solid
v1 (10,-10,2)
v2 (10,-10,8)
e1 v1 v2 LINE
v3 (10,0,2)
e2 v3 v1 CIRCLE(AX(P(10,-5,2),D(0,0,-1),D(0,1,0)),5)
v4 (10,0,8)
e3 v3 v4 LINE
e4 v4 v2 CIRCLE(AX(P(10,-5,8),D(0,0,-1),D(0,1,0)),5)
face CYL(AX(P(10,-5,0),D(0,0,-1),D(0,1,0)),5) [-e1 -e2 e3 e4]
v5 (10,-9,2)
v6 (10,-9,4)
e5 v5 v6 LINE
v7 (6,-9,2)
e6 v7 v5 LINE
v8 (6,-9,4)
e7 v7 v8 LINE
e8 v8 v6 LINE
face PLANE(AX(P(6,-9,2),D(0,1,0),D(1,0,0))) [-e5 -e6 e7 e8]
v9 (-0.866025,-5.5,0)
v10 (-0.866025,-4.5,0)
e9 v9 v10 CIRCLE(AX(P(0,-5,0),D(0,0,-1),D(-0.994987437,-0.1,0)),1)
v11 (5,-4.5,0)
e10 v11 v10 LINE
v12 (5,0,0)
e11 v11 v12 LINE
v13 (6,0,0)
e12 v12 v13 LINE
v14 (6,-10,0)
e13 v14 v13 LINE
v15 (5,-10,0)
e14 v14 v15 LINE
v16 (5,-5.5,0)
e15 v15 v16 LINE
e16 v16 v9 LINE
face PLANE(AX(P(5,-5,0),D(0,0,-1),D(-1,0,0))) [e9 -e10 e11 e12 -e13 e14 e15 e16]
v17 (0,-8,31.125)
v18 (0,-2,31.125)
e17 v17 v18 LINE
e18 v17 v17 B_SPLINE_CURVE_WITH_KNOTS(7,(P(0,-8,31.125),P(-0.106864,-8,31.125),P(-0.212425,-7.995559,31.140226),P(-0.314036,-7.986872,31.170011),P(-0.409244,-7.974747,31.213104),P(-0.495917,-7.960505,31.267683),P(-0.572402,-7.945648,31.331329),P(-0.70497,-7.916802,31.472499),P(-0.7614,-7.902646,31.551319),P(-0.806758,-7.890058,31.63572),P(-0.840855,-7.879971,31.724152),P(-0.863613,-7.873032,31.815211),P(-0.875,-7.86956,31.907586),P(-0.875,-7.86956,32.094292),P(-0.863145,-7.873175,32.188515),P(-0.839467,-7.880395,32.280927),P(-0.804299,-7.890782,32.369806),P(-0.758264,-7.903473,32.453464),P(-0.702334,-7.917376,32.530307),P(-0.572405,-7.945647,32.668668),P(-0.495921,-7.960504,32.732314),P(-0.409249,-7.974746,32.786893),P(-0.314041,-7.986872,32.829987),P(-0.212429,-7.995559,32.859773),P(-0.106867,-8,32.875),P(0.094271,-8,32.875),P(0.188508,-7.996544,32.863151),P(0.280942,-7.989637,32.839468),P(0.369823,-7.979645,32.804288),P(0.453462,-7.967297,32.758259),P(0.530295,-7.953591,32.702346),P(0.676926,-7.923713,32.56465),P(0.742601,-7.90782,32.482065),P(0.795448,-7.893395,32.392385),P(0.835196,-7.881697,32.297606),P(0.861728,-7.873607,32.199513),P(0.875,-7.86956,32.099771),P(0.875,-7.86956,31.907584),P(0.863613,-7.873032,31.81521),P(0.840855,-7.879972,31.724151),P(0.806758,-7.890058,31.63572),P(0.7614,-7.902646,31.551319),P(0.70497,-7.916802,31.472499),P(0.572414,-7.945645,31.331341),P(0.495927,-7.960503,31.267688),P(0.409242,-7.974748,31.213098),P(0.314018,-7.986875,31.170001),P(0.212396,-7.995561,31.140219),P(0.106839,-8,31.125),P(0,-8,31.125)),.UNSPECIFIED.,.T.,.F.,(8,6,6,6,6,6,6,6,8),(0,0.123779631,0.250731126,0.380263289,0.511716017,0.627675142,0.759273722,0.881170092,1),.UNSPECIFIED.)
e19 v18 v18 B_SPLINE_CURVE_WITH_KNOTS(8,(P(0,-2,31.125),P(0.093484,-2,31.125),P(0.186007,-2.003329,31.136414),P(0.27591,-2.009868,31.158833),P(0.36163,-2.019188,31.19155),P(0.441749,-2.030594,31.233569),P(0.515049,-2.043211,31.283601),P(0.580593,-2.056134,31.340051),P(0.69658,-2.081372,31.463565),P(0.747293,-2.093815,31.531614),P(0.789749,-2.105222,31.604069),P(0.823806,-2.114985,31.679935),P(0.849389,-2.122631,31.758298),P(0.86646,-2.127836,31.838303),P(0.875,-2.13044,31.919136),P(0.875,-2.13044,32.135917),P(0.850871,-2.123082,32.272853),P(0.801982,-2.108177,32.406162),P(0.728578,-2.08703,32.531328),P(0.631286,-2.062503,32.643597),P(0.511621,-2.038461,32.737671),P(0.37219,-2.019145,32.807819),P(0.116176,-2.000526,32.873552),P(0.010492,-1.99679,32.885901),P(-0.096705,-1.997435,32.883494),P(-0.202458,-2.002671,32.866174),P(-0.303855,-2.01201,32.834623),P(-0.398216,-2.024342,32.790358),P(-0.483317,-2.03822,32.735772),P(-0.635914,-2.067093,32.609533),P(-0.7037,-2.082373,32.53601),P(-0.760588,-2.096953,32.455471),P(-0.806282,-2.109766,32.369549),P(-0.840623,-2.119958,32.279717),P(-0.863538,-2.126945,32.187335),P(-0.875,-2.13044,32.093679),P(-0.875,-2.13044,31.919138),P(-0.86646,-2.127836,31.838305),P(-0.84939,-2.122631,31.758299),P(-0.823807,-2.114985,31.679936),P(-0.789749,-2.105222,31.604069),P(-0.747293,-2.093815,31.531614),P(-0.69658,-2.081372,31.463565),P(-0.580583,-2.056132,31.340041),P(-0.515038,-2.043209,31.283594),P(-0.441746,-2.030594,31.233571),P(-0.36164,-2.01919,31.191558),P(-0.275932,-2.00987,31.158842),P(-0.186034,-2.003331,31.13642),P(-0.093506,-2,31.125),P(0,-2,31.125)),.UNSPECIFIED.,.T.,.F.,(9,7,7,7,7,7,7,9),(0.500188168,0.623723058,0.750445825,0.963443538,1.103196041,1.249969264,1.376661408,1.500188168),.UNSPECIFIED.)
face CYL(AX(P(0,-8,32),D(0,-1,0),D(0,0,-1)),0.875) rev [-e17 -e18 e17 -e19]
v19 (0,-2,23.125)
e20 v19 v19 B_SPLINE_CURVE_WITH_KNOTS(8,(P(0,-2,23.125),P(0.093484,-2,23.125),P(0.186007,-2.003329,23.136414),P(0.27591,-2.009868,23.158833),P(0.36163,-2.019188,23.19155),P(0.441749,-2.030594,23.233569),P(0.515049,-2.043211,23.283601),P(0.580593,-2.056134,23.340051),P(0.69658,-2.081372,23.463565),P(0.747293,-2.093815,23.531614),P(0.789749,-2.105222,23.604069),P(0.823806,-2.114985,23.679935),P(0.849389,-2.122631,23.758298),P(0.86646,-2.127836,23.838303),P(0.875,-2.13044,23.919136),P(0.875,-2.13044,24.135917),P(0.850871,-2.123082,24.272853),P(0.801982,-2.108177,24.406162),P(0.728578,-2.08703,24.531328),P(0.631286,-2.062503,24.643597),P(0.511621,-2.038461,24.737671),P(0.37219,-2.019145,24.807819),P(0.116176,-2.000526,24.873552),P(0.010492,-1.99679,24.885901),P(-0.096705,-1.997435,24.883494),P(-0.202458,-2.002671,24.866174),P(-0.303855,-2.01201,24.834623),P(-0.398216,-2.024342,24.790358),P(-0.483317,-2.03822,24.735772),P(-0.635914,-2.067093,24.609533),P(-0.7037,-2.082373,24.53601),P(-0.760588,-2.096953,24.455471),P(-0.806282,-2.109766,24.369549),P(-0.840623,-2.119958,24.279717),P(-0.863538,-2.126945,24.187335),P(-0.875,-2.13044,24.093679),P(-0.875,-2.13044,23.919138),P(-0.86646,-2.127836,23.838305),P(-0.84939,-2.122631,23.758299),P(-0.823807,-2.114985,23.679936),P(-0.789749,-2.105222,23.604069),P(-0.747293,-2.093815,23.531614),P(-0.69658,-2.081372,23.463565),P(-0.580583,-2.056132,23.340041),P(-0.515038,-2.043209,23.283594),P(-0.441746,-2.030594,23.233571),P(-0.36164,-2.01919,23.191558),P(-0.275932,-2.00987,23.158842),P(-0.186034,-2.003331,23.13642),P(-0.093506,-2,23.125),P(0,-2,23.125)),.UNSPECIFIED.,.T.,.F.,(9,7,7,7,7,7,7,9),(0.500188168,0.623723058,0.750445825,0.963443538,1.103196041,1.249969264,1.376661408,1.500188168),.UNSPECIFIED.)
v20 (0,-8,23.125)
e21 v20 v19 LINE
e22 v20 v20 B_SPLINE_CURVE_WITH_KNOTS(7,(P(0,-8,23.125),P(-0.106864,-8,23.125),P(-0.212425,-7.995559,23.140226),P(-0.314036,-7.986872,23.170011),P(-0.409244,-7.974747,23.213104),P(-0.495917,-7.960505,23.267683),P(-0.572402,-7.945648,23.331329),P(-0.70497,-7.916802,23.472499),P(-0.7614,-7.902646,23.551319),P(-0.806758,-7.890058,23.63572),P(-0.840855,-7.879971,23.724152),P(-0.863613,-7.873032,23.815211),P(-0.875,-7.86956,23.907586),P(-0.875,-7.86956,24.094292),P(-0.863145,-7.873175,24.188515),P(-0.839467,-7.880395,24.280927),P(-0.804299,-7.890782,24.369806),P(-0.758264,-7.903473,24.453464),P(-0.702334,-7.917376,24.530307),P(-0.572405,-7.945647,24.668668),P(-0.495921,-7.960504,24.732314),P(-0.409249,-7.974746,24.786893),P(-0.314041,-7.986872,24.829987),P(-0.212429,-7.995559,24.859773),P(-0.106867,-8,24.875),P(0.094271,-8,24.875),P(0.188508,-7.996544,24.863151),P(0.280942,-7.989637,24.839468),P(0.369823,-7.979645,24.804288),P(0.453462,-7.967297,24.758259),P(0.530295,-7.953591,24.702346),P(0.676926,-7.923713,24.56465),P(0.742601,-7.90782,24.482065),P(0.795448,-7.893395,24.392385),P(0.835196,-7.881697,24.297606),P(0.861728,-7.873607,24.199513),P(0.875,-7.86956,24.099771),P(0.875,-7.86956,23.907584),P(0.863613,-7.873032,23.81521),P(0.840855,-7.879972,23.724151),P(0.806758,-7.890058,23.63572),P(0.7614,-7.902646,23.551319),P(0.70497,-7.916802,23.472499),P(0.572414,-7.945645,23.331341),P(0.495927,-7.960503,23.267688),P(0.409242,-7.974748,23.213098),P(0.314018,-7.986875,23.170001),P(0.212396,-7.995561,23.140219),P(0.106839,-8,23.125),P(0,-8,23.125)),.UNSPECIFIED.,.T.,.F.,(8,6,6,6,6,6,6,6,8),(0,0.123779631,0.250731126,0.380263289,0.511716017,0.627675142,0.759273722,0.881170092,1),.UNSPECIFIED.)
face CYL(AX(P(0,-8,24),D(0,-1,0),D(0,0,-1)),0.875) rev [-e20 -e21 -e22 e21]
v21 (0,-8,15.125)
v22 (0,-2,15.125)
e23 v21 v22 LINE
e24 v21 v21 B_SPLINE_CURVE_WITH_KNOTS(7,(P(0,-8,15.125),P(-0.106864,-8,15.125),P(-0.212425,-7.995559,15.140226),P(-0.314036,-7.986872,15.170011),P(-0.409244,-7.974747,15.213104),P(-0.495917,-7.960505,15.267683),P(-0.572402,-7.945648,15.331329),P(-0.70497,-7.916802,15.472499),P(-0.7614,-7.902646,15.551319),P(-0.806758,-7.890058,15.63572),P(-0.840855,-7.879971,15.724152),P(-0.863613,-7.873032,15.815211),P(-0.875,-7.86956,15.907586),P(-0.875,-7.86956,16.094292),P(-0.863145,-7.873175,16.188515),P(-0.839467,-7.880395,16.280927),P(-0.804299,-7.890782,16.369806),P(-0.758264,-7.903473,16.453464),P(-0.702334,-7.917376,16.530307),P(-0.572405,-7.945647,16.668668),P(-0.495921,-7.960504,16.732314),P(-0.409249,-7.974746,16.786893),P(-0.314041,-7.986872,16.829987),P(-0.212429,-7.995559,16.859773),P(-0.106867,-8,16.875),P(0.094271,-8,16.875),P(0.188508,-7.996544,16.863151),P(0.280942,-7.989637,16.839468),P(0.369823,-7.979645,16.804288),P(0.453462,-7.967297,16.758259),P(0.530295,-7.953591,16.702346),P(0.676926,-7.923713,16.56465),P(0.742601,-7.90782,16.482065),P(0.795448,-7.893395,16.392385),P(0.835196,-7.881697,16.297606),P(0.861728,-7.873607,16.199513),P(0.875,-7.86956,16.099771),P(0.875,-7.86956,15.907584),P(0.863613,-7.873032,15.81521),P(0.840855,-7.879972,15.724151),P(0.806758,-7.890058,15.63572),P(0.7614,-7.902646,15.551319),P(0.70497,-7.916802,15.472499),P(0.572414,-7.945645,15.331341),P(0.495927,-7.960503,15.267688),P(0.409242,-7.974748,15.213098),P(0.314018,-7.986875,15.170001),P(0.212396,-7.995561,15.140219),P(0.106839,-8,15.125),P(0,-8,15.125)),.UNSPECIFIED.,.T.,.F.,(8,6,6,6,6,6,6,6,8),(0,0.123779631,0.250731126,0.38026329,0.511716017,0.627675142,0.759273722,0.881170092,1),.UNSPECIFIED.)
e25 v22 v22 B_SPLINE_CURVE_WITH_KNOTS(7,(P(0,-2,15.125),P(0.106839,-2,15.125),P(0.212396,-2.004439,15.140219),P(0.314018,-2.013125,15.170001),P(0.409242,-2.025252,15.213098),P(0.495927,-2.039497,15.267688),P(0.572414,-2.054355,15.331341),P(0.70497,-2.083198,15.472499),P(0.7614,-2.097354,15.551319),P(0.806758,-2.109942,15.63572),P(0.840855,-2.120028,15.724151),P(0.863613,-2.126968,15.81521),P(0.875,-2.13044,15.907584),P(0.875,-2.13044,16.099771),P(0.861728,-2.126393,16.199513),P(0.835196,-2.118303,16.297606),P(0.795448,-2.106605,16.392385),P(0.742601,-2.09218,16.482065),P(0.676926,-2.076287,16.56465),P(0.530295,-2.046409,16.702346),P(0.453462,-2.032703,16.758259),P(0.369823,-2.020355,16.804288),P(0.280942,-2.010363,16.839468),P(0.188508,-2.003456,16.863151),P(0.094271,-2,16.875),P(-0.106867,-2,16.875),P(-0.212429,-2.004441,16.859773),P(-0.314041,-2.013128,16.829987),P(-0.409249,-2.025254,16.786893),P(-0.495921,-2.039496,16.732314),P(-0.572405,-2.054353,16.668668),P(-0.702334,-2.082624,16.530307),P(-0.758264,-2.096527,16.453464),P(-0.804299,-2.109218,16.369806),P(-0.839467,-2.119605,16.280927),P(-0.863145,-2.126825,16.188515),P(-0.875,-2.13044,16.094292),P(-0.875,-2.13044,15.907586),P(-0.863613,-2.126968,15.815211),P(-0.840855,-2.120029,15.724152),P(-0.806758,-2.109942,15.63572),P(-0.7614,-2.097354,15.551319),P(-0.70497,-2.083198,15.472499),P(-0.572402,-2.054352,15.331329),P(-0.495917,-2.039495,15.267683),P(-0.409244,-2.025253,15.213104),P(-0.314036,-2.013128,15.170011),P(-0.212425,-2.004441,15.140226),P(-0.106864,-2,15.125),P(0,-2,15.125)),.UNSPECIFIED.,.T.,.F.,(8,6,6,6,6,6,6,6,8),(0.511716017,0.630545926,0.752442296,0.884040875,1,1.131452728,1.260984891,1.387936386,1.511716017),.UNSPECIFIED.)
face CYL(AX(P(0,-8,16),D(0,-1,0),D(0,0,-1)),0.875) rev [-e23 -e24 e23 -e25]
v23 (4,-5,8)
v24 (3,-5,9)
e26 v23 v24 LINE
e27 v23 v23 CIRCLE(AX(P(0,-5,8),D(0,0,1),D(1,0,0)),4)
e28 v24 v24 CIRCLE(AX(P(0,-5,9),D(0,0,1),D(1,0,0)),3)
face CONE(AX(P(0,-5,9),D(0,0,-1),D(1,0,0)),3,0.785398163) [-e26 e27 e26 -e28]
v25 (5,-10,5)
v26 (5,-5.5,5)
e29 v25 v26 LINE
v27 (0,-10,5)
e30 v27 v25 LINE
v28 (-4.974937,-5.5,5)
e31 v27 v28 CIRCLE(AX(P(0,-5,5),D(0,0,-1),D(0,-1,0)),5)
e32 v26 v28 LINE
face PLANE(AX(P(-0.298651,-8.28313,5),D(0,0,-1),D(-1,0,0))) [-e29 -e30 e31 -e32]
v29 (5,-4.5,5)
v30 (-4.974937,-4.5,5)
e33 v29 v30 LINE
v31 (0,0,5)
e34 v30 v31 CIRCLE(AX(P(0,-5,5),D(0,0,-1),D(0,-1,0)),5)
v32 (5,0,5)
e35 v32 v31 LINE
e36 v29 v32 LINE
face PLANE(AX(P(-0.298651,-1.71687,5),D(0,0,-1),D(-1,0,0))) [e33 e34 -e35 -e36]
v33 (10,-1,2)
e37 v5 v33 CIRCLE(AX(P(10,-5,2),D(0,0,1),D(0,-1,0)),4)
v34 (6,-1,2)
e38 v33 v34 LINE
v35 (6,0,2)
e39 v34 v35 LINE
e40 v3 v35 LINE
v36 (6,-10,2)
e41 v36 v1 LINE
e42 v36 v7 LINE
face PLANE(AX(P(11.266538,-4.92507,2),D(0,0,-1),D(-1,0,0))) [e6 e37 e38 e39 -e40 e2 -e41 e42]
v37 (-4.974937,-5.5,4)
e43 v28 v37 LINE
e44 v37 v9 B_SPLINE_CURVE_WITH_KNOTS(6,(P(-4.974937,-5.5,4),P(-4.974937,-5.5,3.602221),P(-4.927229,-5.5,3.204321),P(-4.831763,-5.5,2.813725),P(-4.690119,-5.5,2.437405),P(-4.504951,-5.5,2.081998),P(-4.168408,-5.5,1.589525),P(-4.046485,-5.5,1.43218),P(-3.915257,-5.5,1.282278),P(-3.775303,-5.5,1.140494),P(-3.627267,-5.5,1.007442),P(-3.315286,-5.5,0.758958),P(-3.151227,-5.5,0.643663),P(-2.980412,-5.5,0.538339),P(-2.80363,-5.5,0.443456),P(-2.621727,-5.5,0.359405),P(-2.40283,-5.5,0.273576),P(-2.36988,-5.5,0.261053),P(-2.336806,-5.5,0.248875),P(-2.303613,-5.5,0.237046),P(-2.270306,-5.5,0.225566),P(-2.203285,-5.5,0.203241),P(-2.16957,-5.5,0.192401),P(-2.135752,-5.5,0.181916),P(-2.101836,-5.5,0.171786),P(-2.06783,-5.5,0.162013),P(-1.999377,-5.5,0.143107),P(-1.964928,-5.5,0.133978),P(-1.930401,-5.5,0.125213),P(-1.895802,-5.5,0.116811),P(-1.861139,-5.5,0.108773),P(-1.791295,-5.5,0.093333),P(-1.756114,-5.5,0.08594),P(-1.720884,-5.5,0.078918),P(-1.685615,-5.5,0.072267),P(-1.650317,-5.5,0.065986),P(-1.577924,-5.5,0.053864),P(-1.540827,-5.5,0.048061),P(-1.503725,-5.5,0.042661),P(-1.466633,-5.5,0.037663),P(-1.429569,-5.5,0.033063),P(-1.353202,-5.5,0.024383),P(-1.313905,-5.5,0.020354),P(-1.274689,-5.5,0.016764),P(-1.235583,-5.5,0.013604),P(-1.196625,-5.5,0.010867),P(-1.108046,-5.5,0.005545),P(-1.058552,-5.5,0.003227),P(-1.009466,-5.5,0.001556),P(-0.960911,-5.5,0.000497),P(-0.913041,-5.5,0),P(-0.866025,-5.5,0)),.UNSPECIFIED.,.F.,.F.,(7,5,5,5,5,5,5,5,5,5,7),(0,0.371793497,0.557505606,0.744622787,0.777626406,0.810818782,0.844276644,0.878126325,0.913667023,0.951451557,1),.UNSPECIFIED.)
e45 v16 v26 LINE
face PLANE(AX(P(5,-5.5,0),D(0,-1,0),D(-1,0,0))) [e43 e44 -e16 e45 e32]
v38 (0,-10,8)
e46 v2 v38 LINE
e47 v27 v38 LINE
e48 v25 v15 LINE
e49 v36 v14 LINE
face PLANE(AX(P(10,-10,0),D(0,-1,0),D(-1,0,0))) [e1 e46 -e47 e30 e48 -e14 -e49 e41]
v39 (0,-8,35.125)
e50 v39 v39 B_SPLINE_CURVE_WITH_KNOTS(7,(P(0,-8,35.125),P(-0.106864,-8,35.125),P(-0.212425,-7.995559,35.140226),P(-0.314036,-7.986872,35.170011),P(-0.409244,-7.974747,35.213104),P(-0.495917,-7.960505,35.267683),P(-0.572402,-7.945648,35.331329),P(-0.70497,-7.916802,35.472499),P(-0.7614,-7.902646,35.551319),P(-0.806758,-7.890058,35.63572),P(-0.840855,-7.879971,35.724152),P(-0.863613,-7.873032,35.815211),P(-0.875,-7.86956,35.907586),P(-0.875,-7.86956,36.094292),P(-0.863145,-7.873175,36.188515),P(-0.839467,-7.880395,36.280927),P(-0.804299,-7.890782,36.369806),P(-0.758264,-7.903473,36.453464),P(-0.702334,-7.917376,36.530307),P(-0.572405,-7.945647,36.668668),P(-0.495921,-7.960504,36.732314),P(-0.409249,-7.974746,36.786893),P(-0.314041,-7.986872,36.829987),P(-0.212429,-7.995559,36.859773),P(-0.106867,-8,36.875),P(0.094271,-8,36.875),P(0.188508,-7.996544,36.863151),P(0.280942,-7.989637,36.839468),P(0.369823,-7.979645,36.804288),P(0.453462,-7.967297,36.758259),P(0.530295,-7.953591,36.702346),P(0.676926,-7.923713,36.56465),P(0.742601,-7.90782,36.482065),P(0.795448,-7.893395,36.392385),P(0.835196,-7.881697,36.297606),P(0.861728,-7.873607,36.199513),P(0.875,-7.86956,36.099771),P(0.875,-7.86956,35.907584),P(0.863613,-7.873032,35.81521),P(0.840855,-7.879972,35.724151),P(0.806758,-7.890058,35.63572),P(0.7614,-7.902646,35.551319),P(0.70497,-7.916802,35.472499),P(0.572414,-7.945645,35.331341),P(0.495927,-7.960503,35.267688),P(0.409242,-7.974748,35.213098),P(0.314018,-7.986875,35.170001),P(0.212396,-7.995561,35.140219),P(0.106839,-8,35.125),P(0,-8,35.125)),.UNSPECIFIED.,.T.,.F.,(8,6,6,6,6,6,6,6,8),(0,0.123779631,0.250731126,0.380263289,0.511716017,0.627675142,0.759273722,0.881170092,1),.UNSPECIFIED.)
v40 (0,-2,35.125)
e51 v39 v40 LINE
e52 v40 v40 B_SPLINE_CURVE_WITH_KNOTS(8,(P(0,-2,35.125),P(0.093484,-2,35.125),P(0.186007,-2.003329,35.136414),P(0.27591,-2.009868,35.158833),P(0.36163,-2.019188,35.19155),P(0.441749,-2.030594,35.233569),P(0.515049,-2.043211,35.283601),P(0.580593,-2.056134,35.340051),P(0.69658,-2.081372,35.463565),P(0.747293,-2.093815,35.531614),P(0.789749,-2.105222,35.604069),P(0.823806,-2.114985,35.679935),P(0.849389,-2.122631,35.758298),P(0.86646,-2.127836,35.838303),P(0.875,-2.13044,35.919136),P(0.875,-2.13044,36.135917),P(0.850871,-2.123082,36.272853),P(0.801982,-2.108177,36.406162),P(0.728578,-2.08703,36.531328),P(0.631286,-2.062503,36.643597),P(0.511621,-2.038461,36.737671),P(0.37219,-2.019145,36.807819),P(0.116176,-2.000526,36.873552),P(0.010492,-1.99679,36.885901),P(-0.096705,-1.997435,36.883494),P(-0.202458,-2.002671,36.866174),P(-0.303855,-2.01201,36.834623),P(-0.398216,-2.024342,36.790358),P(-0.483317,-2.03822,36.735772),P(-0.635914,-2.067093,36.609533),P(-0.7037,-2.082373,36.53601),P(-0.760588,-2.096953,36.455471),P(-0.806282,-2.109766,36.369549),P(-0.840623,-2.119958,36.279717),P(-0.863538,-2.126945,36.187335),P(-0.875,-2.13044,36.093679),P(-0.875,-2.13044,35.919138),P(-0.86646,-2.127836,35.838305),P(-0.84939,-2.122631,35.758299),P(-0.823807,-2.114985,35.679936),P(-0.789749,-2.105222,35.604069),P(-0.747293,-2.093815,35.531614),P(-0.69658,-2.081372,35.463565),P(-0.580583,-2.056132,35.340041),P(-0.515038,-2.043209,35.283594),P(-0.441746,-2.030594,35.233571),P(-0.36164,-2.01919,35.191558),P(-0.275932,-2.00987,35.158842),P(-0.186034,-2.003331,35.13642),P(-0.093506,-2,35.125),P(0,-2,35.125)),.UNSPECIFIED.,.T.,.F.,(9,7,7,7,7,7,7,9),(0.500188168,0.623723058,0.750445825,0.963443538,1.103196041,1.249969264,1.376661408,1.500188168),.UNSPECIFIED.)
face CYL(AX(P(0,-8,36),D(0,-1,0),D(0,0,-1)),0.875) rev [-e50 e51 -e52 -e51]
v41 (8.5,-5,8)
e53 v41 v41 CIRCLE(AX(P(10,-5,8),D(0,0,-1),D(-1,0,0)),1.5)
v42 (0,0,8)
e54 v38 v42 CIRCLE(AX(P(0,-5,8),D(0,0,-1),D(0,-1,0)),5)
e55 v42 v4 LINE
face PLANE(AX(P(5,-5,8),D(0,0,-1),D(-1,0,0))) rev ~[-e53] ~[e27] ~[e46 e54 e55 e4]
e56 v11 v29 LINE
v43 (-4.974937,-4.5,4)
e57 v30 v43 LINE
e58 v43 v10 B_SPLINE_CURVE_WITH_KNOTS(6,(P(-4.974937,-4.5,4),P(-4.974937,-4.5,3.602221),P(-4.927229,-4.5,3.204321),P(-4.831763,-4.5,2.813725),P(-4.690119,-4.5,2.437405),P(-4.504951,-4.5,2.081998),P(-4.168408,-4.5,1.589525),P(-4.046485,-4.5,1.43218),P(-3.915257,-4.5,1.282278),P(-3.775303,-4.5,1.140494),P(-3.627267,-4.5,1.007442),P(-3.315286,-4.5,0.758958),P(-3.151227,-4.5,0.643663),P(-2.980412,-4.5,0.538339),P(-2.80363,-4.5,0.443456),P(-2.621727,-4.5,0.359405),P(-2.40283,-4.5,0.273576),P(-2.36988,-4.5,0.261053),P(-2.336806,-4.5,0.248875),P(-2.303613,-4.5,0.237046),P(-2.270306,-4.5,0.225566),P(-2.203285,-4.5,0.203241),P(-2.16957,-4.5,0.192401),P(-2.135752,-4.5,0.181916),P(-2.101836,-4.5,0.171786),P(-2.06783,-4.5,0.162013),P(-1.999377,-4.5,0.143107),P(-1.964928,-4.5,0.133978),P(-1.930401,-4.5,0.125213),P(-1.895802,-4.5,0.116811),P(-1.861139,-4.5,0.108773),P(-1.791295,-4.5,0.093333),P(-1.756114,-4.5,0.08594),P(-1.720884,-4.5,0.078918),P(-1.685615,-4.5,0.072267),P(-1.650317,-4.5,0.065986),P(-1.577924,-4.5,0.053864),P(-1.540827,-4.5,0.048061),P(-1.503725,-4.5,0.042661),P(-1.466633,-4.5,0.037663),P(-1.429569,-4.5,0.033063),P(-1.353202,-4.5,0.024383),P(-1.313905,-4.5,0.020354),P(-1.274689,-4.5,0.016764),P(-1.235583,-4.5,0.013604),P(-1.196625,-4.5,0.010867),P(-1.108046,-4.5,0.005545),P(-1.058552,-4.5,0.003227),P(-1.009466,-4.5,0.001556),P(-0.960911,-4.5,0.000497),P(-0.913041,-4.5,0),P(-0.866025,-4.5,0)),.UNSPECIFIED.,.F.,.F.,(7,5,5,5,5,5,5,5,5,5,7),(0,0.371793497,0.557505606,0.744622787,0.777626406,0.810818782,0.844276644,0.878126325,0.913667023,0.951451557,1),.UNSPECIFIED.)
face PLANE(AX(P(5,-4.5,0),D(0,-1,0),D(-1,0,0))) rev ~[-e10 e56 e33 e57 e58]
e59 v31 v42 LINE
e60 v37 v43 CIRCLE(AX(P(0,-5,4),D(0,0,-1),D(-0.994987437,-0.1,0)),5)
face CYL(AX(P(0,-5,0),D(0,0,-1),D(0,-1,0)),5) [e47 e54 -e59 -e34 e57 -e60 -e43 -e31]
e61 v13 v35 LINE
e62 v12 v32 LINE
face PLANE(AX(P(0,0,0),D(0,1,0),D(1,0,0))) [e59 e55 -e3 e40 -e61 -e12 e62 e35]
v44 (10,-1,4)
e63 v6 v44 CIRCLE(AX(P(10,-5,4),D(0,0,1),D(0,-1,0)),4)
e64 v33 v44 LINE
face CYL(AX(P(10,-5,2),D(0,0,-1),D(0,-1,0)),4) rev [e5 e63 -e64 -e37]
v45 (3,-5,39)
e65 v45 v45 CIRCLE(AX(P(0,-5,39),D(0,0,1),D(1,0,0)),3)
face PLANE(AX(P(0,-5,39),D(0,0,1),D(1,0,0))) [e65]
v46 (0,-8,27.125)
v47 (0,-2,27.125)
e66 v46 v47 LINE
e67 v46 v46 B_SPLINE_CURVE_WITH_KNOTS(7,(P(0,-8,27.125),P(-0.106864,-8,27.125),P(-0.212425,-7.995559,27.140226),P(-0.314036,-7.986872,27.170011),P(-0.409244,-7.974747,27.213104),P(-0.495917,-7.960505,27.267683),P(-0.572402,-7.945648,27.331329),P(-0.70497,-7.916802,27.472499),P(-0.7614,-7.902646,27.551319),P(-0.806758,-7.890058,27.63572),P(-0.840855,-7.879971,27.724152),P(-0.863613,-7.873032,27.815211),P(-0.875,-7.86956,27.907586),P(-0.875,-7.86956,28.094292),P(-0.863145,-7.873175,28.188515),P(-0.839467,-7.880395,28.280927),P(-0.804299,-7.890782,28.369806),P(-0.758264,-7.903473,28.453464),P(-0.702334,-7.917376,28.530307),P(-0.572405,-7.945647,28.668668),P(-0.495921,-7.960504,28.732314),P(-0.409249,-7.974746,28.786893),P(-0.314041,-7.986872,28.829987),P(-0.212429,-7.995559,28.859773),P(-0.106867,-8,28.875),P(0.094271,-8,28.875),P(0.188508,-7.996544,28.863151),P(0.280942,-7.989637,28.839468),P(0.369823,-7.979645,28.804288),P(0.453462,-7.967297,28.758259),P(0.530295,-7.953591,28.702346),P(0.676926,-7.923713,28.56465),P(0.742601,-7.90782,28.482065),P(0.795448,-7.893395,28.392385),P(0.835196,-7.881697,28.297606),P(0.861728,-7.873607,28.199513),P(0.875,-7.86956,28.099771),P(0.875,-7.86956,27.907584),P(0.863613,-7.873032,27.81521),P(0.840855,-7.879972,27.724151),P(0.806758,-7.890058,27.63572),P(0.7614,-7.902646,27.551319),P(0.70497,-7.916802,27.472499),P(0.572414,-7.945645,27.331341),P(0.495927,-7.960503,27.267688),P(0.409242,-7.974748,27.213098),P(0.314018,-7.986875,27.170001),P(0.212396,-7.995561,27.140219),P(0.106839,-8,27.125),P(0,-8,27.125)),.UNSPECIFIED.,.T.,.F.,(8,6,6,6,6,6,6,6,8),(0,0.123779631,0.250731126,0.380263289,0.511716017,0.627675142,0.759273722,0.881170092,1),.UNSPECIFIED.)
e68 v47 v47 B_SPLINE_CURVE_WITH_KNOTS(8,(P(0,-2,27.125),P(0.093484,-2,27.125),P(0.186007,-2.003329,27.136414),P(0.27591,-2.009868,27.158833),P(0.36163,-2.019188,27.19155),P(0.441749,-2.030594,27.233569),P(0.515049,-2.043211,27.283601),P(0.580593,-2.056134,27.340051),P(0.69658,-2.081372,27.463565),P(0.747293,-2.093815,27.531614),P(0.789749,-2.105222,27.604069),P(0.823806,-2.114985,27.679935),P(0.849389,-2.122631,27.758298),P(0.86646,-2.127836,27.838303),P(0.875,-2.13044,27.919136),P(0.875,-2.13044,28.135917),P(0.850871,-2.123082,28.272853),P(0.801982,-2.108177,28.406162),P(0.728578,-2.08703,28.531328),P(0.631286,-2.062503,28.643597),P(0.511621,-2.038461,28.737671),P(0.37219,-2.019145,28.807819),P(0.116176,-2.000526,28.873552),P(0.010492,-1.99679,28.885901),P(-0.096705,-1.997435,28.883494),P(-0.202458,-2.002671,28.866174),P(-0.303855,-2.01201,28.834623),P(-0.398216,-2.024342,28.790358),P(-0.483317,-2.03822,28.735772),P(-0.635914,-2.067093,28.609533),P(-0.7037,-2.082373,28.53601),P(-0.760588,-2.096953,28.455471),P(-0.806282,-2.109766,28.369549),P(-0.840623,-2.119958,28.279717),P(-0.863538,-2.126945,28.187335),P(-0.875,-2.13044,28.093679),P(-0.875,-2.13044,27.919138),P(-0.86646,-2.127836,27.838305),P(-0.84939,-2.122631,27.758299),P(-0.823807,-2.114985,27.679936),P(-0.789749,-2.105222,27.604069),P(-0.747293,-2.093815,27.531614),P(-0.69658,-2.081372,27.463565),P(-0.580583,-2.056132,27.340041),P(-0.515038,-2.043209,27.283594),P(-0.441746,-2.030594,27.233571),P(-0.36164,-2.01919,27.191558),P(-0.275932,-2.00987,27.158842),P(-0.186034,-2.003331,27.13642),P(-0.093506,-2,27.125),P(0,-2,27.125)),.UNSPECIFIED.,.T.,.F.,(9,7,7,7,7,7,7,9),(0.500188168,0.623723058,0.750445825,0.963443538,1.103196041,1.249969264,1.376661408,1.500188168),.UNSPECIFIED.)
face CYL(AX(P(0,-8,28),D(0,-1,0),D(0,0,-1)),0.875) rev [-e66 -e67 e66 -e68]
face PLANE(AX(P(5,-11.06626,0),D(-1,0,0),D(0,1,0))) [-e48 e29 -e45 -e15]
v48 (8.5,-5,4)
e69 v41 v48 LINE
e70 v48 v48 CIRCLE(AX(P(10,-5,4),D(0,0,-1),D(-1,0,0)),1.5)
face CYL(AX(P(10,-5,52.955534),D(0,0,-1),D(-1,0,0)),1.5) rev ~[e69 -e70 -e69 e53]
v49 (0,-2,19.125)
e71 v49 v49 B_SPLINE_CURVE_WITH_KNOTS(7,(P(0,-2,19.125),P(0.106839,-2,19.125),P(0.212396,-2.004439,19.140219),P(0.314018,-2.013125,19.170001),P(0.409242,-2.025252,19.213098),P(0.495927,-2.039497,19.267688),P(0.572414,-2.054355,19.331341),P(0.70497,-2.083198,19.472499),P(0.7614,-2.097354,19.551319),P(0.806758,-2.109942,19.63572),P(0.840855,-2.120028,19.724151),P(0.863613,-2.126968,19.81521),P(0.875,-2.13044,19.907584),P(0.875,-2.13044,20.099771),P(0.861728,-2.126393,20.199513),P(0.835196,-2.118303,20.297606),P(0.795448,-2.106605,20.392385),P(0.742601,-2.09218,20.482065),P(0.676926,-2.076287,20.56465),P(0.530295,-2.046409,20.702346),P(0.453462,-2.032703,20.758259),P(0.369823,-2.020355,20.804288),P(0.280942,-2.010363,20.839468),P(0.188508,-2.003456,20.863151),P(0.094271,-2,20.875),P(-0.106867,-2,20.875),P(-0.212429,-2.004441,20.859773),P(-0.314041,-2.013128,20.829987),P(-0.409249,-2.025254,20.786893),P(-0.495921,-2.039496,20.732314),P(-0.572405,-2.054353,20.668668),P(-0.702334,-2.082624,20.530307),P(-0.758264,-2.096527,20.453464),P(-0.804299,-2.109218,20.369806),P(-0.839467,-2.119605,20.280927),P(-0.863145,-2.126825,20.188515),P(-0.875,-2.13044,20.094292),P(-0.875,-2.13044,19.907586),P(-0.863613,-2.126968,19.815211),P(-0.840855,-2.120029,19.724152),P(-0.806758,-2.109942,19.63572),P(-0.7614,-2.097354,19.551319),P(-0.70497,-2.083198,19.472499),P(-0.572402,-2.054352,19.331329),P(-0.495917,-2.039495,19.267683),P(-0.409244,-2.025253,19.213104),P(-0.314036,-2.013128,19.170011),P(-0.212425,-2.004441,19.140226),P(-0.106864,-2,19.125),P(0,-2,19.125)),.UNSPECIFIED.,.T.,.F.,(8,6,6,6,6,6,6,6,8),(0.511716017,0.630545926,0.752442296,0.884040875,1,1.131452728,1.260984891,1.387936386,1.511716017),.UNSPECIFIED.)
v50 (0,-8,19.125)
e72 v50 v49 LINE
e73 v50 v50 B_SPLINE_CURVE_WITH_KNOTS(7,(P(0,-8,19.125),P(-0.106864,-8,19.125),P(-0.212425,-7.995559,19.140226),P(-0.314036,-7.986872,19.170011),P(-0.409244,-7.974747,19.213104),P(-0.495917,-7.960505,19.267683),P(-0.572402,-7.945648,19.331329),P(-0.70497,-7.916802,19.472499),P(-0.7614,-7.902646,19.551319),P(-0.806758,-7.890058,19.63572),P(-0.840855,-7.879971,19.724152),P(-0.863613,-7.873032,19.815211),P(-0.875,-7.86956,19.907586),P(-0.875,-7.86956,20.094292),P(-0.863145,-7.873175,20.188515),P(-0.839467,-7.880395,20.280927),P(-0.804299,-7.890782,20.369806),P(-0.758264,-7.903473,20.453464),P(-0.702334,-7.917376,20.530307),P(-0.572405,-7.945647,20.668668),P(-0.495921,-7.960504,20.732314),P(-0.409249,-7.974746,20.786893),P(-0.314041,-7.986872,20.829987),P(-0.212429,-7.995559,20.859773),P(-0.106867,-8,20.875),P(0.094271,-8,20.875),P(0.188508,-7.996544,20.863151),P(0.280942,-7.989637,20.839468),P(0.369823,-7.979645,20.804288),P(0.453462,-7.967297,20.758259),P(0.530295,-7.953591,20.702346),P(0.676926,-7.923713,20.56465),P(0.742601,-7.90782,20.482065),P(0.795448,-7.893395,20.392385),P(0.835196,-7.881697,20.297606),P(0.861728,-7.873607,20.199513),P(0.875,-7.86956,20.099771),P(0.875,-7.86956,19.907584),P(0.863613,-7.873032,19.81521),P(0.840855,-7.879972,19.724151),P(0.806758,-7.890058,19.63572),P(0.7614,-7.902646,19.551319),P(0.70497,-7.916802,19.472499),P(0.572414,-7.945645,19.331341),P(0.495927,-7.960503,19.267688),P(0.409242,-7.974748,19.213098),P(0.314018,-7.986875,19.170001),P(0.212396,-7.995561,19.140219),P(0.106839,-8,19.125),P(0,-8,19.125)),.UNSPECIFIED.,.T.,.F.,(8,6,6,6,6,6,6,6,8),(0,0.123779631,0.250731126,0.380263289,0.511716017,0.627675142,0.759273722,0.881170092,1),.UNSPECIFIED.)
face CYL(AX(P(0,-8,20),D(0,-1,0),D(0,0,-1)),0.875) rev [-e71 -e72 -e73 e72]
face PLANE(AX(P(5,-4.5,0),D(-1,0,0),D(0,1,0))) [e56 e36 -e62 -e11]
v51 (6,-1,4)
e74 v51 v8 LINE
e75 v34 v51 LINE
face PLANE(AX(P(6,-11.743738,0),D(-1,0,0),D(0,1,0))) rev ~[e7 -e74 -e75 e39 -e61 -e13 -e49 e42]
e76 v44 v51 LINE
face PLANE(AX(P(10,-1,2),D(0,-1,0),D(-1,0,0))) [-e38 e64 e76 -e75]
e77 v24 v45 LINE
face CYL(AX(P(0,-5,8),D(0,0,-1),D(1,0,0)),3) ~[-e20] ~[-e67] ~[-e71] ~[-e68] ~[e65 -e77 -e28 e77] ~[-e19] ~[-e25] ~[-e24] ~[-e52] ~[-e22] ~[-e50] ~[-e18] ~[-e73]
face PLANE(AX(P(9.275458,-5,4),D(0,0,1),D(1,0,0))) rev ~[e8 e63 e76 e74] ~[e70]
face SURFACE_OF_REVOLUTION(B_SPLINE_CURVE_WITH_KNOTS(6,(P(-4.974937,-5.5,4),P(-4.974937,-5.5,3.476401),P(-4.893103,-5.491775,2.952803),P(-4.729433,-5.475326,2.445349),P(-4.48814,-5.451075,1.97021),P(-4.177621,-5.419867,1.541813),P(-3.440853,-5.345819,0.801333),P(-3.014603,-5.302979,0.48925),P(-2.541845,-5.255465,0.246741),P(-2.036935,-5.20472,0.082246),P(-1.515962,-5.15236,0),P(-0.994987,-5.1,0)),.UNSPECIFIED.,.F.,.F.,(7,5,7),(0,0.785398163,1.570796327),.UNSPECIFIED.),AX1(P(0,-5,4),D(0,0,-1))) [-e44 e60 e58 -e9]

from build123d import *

# Parameters (mm, degrees)
VYSUNOUT1_DEPTH          = 8
SKICA2_R                 = 3
VYSUNOUT2_DEPTH          = 31
M3_Z_VITOV_D_RY1_D       = 3
ZKOSIT1_SIZE             = 1
SKICA5_W                 = 10.533076429
SKICA5_H                 = 13.637336759
ODEBRAT_VYSUNUT_M1_DEPTH = 2
ODEBRAT_VYSUNUT_M2_DEPTH = 2
SKICA7_W                 = 10.597302505
SKICA7_H                 = 5.566259902
ODEBRAT_VYSUNUT_M3_DEPTH = 5
ZAOBLIT1_R               = 4
SKICA8_R                 = 0.875
ODEBRAT_VYSUNUT_M4_DEPTH = 6
LINPOLE1_COUNT           = 6
LINPOLE1_PITCH           = 4
LINPOLE1_COUNT_DIR2      = 4
LINPOLE1_PITCH_DIR2      = 50


with BuildPart() as part:
    # Skica1 → Vysunout1 (new body)
    with BuildSketch(Plane.XY):
        with BuildLine():
            Line((0, 0), (10, 0))
            ThreePointArc((10, 0), (15, -5), (10, -10))
            Line((10, -10), (0, -10))
            ThreePointArc((0, -10), (-5, -5), (0, 0))
        make_face()
    extrude(amount=VYSUNOUT1_DEPTH)

    # Skica2 → Vysunout2 (add)
    with BuildSketch(Plane.XY.offset(8)):
        with Locations((0, -5)):
            Circle(SKICA2_R)
    extrude(amount=VYSUNOUT2_DEPTH)

    # M3 závitové díry1 (through all)
    with Locations(Plane.XY.offset(8)):
        with Locations((10, -5)):
            Hole(M3_Z_VITOV_D_RY1_D / 2)

    # Zkosit1
    zkosit1_edges = [part.edges().sort_by_distance(p)[0] for p in [
        (-3, -5, 8),
    ]]
    chamfer(zkosit1_edges, length=ZKOSIT1_SIZE)

    # Skica5 → Odebrat vysunutím1 (cut)
    with BuildSketch(Plane(origin=(0, 0, 0), x_dir=(-1, 0, 0), z_dir=(0, 0, -1))):
        with Locations((-11.266538215, -4.925069579)):
            Rectangle(SKICA5_W, SKICA5_H)
    extrude(amount=-ODEBRAT_VYSUNUT_M1_DEPTH, mode=Mode.SUBTRACT)

    # Skica6 → Odebrat vysunutím2 (cut)
    with BuildSketch(Plane(origin=(0, 0, 2), x_dir=(-1, 0, 0), z_dir=(0, 0, -1))):
        with BuildLine():
            Line((-6, -1), (-6, -9))
            Line((-6, -9), (-10, -9))
            ThreePointArc((-10, -9), (-14, -5), (-10, -1))
            Line((-10, -1), (-6, -1))
        make_face()
    extrude(amount=-ODEBRAT_VYSUNUT_M2_DEPTH, mode=Mode.SUBTRACT)

    # Skica7 → Odebrat vysunutím3 (cut)
    with BuildSketch(Plane(origin=(0, 0, 0), x_dir=(-1, 0, 0), z_dir=(0, 0, -1))):
        with Locations((0.298651253, -1.716870049)):
            Rectangle(SKICA7_W, SKICA7_H)
        with Locations((0.298651253, -8.283129951)):
            Rectangle(SKICA7_W, SKICA7_H)
    extrude(amount=-ODEBRAT_VYSUNUT_M3_DEPTH, mode=Mode.SUBTRACT)

    # Zaoblit1
    zaoblit1_edges = [part.edges().sort_by_distance(p)[0] for p in [
        (-5, -5, 0),
    ]]
    fillet(zaoblit1_edges, radius=ZAOBLIT1_R)

    # Skica8 → Odebrat vysunutím4 (cut)
    with BuildSketch(Plane(origin=(0, -8, 0), x_dir=(-1, 0, 0), z_dir=(0, 1, 0))):
        with Locations(Location((0, 36, 0), (0, 0, 270))):  # turned: the seam where the file's is
            Circle(SKICA8_R)
    odebrat_vysunut_m4 = extrude(amount=ODEBRAT_VYSUNUT_M4_DEPTH, mode=Mode.SUBTRACT)

    # LinPole1: Odebrat vysunut_m4 6 × 4
    with Locations(*[Vector(0, 0, -1) * (i * LINPOLE1_PITCH) + Vector(0, 0, -1) * (j * LINPOLE1_PITCH_DIR2) for i in range(LINPOLE1_COUNT) for j in range(LINPOLE1_COUNT_DIR2) if (i, j) != (0, 0)]):
        add(odebrat_vysunut_m4, mode=Mode.SUBTRACT)


solid = part.part
